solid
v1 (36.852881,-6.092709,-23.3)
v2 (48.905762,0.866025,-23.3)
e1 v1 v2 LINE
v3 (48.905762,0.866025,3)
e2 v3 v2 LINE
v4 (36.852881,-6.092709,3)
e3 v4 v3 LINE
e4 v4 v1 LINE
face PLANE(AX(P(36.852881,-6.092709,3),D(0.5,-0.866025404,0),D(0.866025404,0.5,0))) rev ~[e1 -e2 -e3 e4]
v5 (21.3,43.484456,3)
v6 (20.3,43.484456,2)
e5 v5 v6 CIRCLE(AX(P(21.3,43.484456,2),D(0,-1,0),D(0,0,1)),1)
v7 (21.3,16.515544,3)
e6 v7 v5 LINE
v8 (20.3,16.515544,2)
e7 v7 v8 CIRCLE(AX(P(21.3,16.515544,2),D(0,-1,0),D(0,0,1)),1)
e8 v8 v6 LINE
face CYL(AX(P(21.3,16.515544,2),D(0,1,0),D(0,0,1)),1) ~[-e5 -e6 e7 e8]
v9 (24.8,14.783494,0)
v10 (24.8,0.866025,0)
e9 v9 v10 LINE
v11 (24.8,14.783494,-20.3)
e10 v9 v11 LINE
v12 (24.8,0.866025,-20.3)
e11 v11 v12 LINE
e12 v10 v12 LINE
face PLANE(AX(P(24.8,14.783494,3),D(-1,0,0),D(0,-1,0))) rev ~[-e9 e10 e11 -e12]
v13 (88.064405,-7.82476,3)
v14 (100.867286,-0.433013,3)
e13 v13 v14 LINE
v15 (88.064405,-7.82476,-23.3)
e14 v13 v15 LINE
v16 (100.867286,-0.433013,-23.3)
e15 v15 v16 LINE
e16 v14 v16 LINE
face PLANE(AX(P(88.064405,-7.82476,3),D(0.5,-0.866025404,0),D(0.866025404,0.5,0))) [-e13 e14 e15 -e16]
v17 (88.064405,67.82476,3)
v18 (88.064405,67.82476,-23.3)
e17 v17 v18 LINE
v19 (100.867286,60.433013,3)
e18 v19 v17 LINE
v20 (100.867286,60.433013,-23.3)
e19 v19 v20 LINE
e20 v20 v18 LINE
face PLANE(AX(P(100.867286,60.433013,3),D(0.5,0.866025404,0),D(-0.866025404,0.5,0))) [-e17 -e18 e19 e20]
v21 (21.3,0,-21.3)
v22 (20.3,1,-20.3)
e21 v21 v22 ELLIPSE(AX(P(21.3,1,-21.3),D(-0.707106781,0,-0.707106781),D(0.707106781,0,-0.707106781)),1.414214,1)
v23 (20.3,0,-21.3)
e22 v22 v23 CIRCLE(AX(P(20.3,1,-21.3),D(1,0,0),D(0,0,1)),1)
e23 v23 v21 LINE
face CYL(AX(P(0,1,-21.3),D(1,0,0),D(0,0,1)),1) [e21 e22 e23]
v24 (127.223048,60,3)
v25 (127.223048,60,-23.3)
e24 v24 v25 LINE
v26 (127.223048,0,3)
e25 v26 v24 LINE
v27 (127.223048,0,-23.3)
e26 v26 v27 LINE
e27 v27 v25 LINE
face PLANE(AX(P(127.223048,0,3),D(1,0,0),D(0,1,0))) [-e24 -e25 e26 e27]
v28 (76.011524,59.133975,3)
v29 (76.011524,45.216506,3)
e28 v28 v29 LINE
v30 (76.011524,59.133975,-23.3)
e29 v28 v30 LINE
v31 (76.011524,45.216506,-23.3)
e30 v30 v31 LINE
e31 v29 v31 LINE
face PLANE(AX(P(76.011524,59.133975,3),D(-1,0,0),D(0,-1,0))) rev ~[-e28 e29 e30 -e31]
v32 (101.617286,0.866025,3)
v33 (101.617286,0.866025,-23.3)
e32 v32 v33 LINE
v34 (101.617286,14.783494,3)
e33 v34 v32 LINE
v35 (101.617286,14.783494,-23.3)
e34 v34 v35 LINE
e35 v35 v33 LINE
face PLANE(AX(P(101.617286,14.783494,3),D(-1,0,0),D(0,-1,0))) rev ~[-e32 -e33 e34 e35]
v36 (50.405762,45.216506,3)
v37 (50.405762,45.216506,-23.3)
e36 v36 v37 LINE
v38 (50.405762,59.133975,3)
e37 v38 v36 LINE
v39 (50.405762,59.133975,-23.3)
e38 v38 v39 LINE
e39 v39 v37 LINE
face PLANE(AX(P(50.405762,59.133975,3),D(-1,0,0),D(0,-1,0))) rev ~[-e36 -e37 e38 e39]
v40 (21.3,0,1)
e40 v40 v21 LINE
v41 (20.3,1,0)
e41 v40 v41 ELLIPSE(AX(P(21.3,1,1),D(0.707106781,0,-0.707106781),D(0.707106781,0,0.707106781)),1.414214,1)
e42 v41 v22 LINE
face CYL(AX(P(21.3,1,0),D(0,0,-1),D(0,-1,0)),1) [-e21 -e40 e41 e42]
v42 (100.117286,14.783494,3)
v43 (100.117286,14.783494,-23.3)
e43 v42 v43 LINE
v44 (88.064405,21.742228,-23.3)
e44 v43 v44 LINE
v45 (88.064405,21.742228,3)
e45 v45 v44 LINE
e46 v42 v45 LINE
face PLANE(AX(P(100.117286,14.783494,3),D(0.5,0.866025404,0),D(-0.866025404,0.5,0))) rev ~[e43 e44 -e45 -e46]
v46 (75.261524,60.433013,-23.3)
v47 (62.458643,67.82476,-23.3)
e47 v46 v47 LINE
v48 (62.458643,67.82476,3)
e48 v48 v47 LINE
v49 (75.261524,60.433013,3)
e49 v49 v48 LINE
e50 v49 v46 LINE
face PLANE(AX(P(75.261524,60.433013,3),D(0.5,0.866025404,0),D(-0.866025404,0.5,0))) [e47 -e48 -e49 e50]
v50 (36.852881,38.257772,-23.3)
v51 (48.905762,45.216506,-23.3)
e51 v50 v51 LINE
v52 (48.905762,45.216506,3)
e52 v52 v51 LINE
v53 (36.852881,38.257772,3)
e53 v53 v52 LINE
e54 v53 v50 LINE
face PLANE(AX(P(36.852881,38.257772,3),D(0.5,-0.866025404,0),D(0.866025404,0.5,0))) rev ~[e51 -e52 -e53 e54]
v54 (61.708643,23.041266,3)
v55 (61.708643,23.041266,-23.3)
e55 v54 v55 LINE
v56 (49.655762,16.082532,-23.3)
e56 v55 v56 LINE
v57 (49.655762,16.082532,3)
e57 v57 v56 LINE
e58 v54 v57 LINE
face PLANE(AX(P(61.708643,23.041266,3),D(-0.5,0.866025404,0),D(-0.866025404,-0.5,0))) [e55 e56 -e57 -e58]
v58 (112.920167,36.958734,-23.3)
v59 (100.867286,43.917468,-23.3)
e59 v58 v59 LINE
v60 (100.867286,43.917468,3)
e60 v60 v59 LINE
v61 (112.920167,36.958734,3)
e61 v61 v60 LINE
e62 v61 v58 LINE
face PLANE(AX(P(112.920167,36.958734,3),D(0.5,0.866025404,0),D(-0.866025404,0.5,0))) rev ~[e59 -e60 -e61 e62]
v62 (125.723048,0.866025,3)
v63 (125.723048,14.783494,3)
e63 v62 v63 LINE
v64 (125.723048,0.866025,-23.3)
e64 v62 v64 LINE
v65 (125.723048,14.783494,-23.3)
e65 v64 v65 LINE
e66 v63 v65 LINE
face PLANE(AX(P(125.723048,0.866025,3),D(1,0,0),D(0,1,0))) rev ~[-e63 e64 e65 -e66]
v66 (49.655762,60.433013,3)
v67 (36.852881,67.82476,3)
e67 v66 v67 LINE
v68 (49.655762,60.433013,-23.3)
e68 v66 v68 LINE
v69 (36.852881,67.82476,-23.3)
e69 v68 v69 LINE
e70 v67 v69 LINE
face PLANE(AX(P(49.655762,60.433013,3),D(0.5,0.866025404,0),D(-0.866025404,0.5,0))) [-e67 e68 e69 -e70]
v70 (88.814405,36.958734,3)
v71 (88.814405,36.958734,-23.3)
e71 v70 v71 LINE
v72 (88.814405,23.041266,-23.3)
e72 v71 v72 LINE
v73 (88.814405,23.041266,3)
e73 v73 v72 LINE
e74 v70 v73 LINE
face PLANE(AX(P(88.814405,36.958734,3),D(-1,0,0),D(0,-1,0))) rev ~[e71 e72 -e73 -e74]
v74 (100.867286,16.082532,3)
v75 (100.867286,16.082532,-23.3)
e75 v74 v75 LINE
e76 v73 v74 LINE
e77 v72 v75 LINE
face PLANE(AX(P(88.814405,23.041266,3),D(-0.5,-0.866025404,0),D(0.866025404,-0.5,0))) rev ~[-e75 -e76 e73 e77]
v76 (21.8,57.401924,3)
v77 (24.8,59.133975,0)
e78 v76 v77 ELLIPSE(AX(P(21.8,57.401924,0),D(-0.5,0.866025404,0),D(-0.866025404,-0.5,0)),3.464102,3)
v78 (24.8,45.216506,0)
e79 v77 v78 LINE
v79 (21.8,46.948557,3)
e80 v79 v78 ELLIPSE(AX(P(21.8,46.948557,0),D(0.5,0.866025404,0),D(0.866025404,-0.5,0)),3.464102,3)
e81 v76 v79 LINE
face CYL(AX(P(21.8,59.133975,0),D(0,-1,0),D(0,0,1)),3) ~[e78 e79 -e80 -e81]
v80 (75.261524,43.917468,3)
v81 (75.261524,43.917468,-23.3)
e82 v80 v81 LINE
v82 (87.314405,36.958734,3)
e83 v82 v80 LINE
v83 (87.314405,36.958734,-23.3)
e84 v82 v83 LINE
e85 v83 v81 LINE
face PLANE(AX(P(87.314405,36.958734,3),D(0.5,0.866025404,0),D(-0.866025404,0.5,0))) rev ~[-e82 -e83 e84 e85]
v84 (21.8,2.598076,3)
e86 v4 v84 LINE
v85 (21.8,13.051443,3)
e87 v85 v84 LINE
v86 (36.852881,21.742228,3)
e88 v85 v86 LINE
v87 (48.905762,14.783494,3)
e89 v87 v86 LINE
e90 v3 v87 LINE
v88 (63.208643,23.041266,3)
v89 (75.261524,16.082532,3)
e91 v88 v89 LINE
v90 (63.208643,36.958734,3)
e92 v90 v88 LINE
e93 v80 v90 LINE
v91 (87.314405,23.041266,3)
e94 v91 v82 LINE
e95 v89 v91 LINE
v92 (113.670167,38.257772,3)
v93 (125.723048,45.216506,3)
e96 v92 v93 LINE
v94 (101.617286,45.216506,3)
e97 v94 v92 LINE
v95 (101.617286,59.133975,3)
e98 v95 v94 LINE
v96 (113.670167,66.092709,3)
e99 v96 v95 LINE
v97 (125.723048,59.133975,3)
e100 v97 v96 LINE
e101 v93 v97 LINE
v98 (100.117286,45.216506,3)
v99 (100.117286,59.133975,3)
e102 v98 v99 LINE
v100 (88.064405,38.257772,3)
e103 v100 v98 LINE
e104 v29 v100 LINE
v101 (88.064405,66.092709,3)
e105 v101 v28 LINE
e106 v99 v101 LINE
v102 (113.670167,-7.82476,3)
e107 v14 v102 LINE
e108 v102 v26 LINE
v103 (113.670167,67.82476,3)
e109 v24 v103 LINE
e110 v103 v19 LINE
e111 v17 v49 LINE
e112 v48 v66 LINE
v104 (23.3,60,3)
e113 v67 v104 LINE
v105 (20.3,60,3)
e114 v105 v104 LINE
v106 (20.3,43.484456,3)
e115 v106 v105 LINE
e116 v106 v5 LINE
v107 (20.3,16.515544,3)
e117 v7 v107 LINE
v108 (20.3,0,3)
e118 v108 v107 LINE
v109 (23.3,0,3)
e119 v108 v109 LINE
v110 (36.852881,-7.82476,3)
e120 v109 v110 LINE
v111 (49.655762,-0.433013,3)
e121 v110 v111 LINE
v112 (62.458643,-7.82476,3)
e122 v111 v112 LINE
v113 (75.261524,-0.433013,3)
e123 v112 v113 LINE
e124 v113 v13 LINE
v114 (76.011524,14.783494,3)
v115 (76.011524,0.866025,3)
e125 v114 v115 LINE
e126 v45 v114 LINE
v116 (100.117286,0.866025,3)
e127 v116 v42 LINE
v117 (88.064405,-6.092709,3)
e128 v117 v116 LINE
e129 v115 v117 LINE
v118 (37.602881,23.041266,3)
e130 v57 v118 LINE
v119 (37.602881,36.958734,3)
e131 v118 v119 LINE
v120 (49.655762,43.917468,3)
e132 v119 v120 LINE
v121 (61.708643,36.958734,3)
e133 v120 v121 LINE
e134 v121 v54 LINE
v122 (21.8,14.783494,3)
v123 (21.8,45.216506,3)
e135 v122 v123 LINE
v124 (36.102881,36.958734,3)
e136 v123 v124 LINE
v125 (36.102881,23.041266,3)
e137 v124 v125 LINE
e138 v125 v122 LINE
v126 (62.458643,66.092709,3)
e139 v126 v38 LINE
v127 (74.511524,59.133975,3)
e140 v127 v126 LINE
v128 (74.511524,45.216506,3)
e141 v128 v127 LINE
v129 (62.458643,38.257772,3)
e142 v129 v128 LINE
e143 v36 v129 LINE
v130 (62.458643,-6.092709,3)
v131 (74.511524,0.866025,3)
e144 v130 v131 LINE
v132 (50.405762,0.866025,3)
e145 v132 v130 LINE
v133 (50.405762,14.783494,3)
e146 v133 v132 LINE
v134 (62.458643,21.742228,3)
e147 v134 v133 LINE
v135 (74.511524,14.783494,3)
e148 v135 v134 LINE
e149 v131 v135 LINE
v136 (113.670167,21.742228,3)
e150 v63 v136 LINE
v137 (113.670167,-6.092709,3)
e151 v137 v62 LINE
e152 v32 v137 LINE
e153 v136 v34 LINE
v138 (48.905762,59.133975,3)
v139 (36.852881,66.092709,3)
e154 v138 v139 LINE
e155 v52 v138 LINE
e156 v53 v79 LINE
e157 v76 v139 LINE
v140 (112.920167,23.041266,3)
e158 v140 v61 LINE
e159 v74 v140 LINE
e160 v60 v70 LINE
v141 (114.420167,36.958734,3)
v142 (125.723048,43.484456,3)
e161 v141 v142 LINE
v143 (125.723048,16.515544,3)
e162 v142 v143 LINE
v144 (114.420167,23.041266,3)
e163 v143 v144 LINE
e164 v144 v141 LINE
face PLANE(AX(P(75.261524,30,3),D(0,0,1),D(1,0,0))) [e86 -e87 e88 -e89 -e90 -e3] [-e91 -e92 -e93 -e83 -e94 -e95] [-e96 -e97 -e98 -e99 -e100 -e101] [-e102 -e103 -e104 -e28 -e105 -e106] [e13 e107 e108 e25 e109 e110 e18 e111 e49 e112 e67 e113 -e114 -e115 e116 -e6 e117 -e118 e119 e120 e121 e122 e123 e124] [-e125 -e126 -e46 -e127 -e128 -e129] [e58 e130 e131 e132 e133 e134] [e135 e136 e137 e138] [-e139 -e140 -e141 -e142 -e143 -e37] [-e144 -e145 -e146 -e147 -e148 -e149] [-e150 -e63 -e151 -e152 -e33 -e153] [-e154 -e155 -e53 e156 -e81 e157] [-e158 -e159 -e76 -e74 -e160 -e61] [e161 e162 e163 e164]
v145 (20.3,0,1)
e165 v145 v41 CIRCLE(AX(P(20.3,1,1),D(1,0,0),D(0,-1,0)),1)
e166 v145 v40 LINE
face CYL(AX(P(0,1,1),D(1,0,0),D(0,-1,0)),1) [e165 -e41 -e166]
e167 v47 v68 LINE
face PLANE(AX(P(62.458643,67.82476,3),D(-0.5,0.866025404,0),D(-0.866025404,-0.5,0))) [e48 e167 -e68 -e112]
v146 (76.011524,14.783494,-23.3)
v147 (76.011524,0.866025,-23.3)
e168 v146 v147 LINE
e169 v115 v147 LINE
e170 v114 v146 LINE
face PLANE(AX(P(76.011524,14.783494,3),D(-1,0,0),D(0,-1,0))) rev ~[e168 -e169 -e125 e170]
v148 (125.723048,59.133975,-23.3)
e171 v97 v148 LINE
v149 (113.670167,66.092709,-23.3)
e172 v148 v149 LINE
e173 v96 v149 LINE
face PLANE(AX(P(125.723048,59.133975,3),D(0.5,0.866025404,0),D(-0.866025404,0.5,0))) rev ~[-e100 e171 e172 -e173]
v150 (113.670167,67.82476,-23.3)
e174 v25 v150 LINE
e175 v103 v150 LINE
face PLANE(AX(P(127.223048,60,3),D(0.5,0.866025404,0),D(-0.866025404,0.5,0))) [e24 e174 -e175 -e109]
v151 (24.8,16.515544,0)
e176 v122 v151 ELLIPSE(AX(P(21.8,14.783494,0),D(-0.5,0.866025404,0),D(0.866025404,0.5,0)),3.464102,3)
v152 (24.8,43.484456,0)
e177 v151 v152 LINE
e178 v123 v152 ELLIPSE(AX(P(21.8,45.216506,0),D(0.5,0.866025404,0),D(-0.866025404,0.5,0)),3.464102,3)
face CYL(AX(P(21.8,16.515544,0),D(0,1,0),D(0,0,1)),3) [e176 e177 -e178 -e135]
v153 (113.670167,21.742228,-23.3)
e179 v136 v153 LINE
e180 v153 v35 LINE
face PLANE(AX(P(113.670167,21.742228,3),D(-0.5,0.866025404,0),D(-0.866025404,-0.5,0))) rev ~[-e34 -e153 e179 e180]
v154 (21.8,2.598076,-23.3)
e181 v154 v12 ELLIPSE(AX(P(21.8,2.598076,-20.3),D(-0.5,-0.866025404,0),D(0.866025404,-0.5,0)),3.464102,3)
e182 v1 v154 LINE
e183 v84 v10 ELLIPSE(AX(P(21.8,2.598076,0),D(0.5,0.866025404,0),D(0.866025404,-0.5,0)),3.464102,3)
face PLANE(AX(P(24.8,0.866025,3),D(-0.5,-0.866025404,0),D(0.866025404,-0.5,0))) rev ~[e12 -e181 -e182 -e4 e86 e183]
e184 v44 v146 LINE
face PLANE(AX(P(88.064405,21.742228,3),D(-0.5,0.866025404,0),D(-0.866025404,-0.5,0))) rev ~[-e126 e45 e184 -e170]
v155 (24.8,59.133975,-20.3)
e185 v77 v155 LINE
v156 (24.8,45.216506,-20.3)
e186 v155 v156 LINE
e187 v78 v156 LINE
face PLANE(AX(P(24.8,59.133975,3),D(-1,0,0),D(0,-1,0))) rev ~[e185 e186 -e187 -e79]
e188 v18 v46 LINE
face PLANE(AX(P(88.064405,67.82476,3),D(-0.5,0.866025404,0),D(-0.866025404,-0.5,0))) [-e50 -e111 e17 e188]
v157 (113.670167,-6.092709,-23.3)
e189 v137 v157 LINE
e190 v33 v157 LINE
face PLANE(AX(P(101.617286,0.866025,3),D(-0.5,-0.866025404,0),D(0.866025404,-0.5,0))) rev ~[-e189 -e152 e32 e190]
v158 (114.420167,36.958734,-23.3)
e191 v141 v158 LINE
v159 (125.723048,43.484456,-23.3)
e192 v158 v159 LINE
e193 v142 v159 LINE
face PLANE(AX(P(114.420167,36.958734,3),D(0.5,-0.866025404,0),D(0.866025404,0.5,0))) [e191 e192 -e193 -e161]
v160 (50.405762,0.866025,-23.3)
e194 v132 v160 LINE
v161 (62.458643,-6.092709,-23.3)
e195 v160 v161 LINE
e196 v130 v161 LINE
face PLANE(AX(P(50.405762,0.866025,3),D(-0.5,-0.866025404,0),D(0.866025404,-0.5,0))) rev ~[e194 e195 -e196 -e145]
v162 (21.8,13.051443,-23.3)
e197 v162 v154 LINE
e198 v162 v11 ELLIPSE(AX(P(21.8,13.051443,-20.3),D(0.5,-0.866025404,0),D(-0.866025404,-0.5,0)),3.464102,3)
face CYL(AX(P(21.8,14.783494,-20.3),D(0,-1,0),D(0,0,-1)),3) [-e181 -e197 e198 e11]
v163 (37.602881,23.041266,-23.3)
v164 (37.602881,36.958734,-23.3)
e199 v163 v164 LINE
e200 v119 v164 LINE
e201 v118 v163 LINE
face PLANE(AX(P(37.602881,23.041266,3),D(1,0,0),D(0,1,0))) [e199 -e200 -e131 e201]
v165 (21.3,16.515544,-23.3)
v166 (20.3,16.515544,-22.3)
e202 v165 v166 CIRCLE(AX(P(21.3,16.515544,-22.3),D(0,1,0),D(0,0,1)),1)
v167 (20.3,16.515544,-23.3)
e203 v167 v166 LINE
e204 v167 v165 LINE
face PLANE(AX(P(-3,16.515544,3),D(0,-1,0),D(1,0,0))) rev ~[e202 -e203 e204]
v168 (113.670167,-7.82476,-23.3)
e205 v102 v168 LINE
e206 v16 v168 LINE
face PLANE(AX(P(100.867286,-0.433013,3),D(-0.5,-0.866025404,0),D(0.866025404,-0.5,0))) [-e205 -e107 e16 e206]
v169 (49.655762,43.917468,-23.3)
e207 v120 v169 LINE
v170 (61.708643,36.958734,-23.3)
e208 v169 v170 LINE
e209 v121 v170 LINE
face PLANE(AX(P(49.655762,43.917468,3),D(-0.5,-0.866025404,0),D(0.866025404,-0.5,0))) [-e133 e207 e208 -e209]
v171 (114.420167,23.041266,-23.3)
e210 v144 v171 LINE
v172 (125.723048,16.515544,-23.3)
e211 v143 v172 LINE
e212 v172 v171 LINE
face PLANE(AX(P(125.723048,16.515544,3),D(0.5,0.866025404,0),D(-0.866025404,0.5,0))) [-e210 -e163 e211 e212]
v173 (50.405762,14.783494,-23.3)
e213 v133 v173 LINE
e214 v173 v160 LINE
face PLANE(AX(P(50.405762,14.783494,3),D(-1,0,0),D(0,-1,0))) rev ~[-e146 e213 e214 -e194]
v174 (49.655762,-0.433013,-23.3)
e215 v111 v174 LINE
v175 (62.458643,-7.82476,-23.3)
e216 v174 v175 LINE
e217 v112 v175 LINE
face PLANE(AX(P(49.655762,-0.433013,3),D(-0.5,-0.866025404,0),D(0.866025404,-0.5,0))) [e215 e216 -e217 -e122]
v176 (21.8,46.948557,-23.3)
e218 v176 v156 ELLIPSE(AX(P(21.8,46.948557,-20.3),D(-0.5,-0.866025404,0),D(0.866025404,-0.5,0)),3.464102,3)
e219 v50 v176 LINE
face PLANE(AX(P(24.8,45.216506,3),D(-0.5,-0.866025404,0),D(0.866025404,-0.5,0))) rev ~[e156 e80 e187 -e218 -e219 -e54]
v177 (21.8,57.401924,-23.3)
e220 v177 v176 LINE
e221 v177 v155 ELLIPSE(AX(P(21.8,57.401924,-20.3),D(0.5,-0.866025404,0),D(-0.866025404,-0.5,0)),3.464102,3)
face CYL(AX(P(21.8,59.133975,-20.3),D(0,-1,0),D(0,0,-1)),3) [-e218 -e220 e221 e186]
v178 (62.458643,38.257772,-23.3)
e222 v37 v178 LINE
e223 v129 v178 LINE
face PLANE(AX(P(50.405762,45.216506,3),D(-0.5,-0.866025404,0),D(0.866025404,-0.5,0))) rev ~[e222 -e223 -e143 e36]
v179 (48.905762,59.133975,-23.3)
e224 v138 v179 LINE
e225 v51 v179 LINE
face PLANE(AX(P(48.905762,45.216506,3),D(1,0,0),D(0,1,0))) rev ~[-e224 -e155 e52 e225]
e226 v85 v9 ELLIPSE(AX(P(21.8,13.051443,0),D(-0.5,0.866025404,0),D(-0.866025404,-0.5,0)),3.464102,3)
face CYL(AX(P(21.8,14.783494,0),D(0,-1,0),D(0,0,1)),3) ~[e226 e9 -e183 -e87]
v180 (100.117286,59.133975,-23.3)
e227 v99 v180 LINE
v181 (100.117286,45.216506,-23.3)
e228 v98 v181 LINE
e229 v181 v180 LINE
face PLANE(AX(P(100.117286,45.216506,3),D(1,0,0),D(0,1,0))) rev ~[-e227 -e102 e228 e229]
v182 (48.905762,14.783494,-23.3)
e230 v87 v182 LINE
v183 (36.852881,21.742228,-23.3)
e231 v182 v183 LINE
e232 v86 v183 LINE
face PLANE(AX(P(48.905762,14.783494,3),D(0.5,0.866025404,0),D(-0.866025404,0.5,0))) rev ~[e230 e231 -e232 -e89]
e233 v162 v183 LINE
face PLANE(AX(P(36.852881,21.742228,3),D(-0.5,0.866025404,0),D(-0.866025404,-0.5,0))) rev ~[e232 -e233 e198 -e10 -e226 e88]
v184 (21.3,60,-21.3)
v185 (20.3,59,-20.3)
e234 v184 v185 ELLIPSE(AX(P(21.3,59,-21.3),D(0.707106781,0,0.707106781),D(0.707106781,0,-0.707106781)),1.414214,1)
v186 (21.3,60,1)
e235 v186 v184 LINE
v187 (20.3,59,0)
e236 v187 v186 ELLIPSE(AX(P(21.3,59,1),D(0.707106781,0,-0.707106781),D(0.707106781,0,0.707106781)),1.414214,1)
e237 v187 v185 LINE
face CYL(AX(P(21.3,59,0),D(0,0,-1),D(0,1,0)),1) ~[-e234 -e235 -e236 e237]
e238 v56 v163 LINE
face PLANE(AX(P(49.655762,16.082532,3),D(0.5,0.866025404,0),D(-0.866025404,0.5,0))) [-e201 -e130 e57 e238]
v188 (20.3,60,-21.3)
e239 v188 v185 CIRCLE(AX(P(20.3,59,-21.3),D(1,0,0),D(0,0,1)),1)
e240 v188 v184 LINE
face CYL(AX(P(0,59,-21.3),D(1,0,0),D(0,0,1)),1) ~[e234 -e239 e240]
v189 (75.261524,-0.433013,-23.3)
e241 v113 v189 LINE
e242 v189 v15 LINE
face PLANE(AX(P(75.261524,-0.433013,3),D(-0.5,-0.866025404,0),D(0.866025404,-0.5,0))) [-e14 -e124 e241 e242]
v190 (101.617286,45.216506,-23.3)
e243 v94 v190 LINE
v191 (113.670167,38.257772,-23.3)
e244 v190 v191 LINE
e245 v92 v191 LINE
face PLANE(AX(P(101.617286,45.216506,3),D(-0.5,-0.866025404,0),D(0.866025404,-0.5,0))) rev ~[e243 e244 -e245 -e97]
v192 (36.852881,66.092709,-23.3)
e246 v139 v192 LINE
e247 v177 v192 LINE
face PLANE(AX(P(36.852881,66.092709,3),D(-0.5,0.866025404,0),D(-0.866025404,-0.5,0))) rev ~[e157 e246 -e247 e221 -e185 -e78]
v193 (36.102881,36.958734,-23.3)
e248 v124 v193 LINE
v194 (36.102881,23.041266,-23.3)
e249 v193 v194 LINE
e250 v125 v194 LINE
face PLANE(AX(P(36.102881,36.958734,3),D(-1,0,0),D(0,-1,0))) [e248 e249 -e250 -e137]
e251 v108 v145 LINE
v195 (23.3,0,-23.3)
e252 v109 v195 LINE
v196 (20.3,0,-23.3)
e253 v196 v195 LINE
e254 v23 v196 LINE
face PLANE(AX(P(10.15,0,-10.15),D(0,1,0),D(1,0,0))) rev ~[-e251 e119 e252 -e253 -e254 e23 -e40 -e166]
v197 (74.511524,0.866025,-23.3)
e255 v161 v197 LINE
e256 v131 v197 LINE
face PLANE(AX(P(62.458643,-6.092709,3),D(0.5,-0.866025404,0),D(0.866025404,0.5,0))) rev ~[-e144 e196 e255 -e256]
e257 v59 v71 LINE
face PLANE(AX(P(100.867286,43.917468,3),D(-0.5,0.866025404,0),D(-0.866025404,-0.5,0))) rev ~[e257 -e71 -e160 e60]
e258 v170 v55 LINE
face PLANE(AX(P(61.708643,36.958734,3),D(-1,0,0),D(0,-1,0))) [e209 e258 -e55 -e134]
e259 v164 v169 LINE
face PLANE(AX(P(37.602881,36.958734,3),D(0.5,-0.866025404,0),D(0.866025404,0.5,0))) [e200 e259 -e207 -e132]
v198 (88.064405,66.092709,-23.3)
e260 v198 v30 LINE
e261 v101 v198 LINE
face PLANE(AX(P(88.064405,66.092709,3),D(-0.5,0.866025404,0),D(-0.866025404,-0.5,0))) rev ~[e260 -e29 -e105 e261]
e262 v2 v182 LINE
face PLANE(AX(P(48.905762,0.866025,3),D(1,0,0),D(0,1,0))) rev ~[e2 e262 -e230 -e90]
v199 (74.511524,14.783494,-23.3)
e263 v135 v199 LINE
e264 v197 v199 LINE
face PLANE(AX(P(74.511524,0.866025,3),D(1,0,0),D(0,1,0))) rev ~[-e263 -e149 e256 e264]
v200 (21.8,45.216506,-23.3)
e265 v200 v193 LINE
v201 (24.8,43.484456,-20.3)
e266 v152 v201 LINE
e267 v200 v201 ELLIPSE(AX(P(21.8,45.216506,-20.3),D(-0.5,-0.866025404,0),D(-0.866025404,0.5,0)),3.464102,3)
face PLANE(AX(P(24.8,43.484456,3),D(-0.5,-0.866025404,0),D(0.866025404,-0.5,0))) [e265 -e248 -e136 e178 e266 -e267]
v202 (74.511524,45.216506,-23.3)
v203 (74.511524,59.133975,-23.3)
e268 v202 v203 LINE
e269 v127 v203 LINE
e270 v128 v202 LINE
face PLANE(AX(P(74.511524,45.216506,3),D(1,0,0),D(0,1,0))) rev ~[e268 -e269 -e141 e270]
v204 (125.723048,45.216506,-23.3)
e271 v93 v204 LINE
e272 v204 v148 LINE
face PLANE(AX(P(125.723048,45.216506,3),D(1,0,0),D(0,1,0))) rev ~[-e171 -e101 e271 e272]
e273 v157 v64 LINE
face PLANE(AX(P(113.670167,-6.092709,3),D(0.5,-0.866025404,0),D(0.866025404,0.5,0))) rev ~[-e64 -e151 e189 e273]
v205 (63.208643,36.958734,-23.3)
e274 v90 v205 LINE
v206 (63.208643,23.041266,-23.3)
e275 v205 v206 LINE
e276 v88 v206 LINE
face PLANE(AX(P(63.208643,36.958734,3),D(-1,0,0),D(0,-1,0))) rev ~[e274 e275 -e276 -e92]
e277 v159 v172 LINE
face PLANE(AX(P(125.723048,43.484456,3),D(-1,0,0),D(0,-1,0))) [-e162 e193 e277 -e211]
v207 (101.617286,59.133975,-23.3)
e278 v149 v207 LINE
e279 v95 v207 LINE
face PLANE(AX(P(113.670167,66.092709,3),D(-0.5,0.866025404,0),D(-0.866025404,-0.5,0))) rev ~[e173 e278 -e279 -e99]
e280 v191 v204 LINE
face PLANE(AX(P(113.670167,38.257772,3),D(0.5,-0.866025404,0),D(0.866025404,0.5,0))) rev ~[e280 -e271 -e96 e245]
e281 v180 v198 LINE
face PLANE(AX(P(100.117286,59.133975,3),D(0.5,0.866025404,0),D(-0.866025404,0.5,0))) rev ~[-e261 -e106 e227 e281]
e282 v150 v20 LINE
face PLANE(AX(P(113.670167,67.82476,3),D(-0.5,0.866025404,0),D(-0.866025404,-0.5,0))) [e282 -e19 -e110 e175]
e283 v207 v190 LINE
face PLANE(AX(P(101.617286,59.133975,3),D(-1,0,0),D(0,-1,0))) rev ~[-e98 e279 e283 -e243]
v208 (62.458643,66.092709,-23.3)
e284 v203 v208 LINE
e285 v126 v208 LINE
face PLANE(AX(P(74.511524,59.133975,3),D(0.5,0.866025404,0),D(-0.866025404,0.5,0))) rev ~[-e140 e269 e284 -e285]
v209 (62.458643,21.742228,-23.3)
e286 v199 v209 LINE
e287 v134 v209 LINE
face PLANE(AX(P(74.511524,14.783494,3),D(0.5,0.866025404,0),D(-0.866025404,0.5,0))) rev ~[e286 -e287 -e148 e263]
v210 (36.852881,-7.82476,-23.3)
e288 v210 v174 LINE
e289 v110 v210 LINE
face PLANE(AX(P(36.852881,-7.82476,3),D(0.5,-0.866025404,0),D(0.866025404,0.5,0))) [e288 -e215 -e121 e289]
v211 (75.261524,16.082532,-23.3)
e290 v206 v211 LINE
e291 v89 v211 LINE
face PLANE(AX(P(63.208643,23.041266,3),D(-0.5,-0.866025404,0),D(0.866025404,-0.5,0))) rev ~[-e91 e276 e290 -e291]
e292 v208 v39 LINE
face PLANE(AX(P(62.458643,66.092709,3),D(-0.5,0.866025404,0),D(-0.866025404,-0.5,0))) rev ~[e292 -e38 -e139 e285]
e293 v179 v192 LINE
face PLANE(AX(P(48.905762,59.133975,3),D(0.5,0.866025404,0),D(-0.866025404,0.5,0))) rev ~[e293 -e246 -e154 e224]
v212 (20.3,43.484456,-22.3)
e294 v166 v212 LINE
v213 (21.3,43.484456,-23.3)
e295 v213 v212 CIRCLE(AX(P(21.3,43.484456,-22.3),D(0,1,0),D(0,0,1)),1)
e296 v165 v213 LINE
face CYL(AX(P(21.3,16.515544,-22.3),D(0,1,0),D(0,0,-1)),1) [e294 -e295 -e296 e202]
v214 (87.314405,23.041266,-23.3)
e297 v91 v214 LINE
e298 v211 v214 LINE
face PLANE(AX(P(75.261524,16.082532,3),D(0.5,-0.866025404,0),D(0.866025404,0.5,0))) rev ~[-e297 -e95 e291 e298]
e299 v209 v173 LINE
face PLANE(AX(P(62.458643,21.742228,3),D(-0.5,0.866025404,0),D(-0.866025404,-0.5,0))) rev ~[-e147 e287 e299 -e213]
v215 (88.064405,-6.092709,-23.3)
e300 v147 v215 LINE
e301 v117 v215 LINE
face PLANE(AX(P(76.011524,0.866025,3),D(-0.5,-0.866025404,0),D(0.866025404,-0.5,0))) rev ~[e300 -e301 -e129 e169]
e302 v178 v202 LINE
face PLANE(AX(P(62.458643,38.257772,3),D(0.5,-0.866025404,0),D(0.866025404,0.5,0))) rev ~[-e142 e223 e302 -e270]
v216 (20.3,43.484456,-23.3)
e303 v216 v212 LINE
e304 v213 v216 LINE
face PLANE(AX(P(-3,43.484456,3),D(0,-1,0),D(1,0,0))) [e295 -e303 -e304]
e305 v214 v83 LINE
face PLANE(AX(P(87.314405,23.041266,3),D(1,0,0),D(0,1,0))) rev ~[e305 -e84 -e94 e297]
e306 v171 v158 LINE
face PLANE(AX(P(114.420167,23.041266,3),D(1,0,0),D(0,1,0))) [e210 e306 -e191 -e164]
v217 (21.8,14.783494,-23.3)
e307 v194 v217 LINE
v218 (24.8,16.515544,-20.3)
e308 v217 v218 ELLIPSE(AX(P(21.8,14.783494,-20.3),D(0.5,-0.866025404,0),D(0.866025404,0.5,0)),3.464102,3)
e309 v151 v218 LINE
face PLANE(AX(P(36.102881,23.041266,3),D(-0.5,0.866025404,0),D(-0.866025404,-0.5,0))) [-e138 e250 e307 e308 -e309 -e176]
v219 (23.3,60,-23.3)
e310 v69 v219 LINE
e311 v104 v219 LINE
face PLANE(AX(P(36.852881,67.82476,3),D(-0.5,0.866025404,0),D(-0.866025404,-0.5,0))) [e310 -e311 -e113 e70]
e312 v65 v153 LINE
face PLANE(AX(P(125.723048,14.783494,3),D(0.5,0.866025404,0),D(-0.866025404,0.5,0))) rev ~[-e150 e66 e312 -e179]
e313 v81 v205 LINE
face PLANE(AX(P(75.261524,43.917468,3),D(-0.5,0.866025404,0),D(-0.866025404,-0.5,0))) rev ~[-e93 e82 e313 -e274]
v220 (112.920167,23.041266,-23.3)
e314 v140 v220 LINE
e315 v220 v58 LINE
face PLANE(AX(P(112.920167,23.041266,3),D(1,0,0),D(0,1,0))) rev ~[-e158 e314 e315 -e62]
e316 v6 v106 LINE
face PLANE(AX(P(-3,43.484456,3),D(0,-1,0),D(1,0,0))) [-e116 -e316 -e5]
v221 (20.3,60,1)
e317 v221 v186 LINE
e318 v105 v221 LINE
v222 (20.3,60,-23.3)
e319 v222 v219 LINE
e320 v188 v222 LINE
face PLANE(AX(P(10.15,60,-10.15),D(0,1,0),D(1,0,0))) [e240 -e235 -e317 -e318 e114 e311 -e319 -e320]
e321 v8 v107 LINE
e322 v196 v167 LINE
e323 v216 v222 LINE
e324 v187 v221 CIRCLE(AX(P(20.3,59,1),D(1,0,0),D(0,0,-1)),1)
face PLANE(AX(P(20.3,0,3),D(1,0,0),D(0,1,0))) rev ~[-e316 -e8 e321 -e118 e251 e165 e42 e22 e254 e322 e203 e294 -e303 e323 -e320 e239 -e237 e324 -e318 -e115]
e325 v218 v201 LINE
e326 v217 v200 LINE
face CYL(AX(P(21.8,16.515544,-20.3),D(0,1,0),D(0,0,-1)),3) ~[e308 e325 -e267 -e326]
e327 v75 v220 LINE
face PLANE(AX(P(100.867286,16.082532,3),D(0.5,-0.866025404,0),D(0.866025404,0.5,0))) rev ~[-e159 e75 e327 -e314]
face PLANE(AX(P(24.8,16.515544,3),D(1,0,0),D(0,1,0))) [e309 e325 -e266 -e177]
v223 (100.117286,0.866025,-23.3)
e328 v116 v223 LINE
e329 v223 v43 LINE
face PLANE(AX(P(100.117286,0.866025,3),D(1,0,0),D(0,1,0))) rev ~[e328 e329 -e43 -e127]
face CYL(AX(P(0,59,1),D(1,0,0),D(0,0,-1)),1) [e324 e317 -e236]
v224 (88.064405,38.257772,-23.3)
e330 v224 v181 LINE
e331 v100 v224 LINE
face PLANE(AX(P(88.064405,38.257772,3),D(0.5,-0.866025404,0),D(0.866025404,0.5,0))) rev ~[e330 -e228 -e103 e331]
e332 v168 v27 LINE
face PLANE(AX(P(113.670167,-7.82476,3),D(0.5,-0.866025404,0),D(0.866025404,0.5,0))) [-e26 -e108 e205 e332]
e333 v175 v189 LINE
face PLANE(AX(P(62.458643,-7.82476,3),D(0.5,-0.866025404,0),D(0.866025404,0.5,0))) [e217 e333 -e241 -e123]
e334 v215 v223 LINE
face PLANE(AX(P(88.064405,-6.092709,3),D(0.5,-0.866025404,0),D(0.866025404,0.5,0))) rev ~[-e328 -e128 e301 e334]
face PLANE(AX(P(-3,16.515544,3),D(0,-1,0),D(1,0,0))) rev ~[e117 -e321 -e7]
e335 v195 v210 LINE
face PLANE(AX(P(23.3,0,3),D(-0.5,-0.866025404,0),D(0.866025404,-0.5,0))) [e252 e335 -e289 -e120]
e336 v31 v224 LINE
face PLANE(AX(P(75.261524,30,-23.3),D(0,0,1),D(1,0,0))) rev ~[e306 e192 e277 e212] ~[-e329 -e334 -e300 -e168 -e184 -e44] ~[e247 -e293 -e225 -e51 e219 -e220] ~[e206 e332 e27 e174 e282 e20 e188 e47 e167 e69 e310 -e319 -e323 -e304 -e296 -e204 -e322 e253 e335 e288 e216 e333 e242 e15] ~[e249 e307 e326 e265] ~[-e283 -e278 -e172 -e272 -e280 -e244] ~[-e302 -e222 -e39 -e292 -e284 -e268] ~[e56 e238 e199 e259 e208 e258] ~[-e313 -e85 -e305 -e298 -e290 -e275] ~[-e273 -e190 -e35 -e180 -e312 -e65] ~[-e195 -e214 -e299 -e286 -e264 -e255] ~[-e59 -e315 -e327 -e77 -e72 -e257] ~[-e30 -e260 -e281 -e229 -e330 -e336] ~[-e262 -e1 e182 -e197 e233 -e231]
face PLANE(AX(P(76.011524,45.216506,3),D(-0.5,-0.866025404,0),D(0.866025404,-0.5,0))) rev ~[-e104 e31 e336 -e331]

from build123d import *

# Parameters (mm, degrees)
SKETCH1_W                  = 26.3
SKETCH1_H                  = 26.3
SKETCH1_W_2                = 20.3
SKETCH1_H_2                = 20.3
TUBE_EXTRUDE_DEPTH         = 60
HEX_EXTRUDE_DEPTH          = 26.3
SKETCH3_W                  = 23.3
SKETCH3_H                  = 26.968911086
TUBE_CENTER_CUT_DEPTH      = 1
TUBE_CENTER_CUT_DEPTH_BACK = 27.3
CUT_EXTRUDE1_START         = -3
CUT_EXTRUDE1_DEPTH         = 3
SKETCH5_W                  = 1
SKETCH5_H                  = 10.515544457
CUT_EXTRUDE2_DEPTH         = 27.3
FILLET1_R                  = 3
FILLET2_R                  = 1
SKETCH6_W                  = 23.3
SKETCH6_H                  = 60
CUT_EXTRUDE3_DEPTH         = 27.3


with BuildPart() as part:
    # Sketch1 → Tube Extrude (new body)
    with BuildSketch(Plane(origin=(0, 0, 0), x_dir=(1, 0, 0), z_dir=(0, 1, 0))):
        with Locations((10.15, 10.15)):
            Rectangle(SKETCH1_W, SKETCH1_H)
        with Locations((10.15, 10.15)):
            Rectangle(SKETCH1_W_2, SKETCH1_H_2, mode=Mode.SUBTRACT)
    extrude(amount=TUBE_EXTRUDE_DEPTH)

    # Sketch2 → Hex Extrude (add)
    with BuildSketch(Plane.XY.offset(3)):
        Polygon((23.3, 15.649519053), (23.3, 0), (36.852881057, -7.824759526), (49.655762114, -0.433012702), (62.45864317, -7.824759526), (75.261524227, -0.433012702), (88.064405284, -7.824759526), (100.867286341, -0.433012702), (113.670167397, -7.824759526), (127.223048454, 0), (127.223048454, 15.649519053), (127.223048454, 44.350480947), (127.223048454, 60), (113.670167397, 67.824759526), (100.867286341, 60.433012702), (88.064405284, 67.824759526), (75.261524227, 60.433012702), (62.45864317, 67.824759526), (49.655762114, 60.433012702), (36.852881057, 67.824759526), (23.3, 60), (23.3, 44.350480947), align=None)
        Polygon((49.655762114, 16.082531755), (37.602881057, 23.041265877), (37.602881057, 36.958734123), (49.655762114, 43.917468245), (61.70864317, 36.958734123), (61.70864317, 23.041265877), align=None, mode=Mode.SUBTRACT)
        Polygon((36.102881057, 23.041265877), (24.8, 16.515544457), (24.8, 43.484455543), (36.102881057, 36.958734123), align=None, mode=Mode.SUBTRACT)
        Polygon((24.8, 0.866025404), (36.852881057, -6.092708719), (48.905762114, 0.866025404), (48.905762114, 14.783493649), (36.852881057, 21.742227772), (24.8, 14.783493649), align=None, mode=Mode.SUBTRACT)
        Polygon((50.405762114, 0.866025404), (62.45864317, -6.092708719), (74.511524227, 0.866025404), (74.511524227, 14.783493649), (62.45864317, 21.742227772), (50.405762114, 14.783493649), align=None, mode=Mode.SUBTRACT)
        Polygon((76.011524227, 0.866025404), (88.064405284, -6.092708719), (100.117286341, 0.866025404), (100.117286341, 14.783493649), (88.064405284, 21.742227772), (76.011524227, 14.783493649), align=None, mode=Mode.SUBTRACT)
        Polygon((125.723048454, 16.515544457), (114.420167397, 23.041265877), (114.420167397, 36.958734123), (125.723048454, 43.484455543), align=None, mode=Mode.SUBTRACT)
        Polygon((101.617286341, 0.866025404), (113.670167397, -6.092708719), (125.723048454, 0.866025404), (125.723048454, 14.783493649), (113.670167397, 21.742227772), (101.617286341, 14.783493649), align=None, mode=Mode.SUBTRACT)
        Polygon((24.8, 45.216506351), (36.852881057, 38.257772228), (48.905762114, 45.216506351), (48.905762114, 59.133974596), (36.852881057, 66.092708719), (24.8, 59.133974596), align=None, mode=Mode.SUBTRACT)
        Polygon((50.405762114, 45.216506351), (62.45864317, 38.257772228), (74.511524227, 45.216506351), (74.511524227, 59.133974596), (62.45864317, 66.092708719), (50.405762114, 59.133974596), align=None, mode=Mode.SUBTRACT)
        Polygon((76.011524227, 45.216506351), (88.064405284, 38.257772228), (100.117286341, 45.216506351), (100.117286341, 59.133974596), (88.064405284, 66.092708719), (76.011524227, 59.133974596), align=None, mode=Mode.SUBTRACT)
        Polygon((101.617286341, 45.216506351), (113.670167397, 38.257772228), (125.723048454, 45.216506351), (125.723048454, 59.133974596), (113.670167397, 66.092708719), (101.617286341, 59.133974596), align=None, mode=Mode.SUBTRACT)
        Polygon((75.261524227, 16.082531755), (87.314405284, 23.041265877), (87.314405284, 36.958734123), (75.261524227, 43.917468245), (63.20864317, 36.958734123), (63.20864317, 23.041265877), align=None, mode=Mode.SUBTRACT)
        Polygon((100.867286341, 16.082531755), (112.920167397, 23.041265877), (112.920167397, 36.958734123), (100.867286341, 43.917468245), (88.814405284, 36.958734123), (88.814405284, 23.041265877), align=None, mode=Mode.SUBTRACT)
    extrude(amount=-HEX_EXTRUDE_DEPTH)

    # Sketch3 → Tube Center Cut (cut, two sides)
    with BuildSketch(Plane.XY.offset(3)) as tube_center_cut_sk:
        with Locations((8.65, 30)):
            Rectangle(SKETCH3_W, SKETCH3_H)
    extrude(amount=TUBE_CENTER_CUT_DEPTH, mode=Mode.SUBTRACT)
    extrude(tube_center_cut_sk.sketch, amount=-TUBE_CENTER_CUT_DEPTH_BACK, mode=Mode.SUBTRACT)

    # Sketch4 → Cut-Extrude1 (cut)
    with BuildSketch(Plane.ZY.offset(3).offset(CUT_EXTRUDE1_START)):
        Polygon((-10.15, 60), (-10.35, 60), (-10.35, 0), (-10.15, 0), (-9.95, 0), (-9.95, 60), align=None)
    extrude(amount=CUT_EXTRUDE1_DEPTH, mode=Mode.SUBTRACT)

    # Sketch5 → Cut-Extrude2 (cut, through all)
    with BuildSketch(Plane.XY.offset(3)):
        with Locations((-2.5, 51.742227771)):
            Rectangle(SKETCH5_W, SKETCH5_H)
        with Locations((-2.5, 8.257772229)):
            Rectangle(SKETCH5_W, SKETCH5_H)
    extrude(amount=-CUT_EXTRUDE2_DEPTH, mode=Mode.SUBTRACT)

    # Fillet1
    fillet1_edges = [part.edges().sort_by_distance(p)[0] for p in [
        (-2, 51.742227772, -23.3),
        (-2, 51.742227772, 3),
        (-2, 8.257772228, -23.3),
        (-2, 8.257772228, 3),
        (24.8, 52.175240474, -23.3),
        (24.8, 52.175240474, 3),
        (24.8, 7.824759526, -23.3),
        (24.8, 7.824759526, 3),
        (24.8, 30, 3),
        (24.8, 30, -23.3),
    ]]
    fillet(fillet1_edges, radius=FILLET1_R)

    # Fillet2
    fillet2_edges = [part.edges().sort_by_distance(p)[0] for p in [
        (0, 0, -15.325),
        (10.15, 0, 0),
        (20.3, 0, -10.15),
        (10.15, 0, -20.3),
        (0, 60, -15.325),
        (10.15, 60, 0),
        (20.3, 60, -10.15),
        (10.15, 60, -20.3),
        (10.15, 43.484455543, -20.3),
        (10.15, 16.515544457, -20.3),
        (-3, 15.015544457, -23.3),
        (-3, 15.015544457, 3),
        (20.3, 30, 3),
        (10.15, 16.515544457, 0),
        (0, 16.515544457, -4.975),
        (0, 43.484455543, -15.325),
        (10.15, 43.484455543, 0),
        (20.3, 30, -23.3),
        (0, 43.484455543, -4.975),
        (0, 16.515544457, -15.325),
        (0, 60, -4.975),
        (0, 0, -4.975),
        (-3, 1.5, -23.3),
        (-3, 44.984455543, -23.3),
        (-3, 1.5, 3),
        (-3, 44.984455543, 3),
        (-3, 58.5, -23.3),
        (-3, 58.5, 3),
    ]]
    fillet(fillet2_edges, radius=FILLET2_R)

    # Sketch6 → Cut-Extrude3 (cut, through all)
    with BuildSketch(Plane.XY.offset(3)):
        with Locations((8.65, 30)):
            Rectangle(SKETCH6_W, SKETCH6_H)
    extrude(amount=-CUT_EXTRUDE3_DEPTH, mode=Mode.SUBTRACT)


solid = part.part
